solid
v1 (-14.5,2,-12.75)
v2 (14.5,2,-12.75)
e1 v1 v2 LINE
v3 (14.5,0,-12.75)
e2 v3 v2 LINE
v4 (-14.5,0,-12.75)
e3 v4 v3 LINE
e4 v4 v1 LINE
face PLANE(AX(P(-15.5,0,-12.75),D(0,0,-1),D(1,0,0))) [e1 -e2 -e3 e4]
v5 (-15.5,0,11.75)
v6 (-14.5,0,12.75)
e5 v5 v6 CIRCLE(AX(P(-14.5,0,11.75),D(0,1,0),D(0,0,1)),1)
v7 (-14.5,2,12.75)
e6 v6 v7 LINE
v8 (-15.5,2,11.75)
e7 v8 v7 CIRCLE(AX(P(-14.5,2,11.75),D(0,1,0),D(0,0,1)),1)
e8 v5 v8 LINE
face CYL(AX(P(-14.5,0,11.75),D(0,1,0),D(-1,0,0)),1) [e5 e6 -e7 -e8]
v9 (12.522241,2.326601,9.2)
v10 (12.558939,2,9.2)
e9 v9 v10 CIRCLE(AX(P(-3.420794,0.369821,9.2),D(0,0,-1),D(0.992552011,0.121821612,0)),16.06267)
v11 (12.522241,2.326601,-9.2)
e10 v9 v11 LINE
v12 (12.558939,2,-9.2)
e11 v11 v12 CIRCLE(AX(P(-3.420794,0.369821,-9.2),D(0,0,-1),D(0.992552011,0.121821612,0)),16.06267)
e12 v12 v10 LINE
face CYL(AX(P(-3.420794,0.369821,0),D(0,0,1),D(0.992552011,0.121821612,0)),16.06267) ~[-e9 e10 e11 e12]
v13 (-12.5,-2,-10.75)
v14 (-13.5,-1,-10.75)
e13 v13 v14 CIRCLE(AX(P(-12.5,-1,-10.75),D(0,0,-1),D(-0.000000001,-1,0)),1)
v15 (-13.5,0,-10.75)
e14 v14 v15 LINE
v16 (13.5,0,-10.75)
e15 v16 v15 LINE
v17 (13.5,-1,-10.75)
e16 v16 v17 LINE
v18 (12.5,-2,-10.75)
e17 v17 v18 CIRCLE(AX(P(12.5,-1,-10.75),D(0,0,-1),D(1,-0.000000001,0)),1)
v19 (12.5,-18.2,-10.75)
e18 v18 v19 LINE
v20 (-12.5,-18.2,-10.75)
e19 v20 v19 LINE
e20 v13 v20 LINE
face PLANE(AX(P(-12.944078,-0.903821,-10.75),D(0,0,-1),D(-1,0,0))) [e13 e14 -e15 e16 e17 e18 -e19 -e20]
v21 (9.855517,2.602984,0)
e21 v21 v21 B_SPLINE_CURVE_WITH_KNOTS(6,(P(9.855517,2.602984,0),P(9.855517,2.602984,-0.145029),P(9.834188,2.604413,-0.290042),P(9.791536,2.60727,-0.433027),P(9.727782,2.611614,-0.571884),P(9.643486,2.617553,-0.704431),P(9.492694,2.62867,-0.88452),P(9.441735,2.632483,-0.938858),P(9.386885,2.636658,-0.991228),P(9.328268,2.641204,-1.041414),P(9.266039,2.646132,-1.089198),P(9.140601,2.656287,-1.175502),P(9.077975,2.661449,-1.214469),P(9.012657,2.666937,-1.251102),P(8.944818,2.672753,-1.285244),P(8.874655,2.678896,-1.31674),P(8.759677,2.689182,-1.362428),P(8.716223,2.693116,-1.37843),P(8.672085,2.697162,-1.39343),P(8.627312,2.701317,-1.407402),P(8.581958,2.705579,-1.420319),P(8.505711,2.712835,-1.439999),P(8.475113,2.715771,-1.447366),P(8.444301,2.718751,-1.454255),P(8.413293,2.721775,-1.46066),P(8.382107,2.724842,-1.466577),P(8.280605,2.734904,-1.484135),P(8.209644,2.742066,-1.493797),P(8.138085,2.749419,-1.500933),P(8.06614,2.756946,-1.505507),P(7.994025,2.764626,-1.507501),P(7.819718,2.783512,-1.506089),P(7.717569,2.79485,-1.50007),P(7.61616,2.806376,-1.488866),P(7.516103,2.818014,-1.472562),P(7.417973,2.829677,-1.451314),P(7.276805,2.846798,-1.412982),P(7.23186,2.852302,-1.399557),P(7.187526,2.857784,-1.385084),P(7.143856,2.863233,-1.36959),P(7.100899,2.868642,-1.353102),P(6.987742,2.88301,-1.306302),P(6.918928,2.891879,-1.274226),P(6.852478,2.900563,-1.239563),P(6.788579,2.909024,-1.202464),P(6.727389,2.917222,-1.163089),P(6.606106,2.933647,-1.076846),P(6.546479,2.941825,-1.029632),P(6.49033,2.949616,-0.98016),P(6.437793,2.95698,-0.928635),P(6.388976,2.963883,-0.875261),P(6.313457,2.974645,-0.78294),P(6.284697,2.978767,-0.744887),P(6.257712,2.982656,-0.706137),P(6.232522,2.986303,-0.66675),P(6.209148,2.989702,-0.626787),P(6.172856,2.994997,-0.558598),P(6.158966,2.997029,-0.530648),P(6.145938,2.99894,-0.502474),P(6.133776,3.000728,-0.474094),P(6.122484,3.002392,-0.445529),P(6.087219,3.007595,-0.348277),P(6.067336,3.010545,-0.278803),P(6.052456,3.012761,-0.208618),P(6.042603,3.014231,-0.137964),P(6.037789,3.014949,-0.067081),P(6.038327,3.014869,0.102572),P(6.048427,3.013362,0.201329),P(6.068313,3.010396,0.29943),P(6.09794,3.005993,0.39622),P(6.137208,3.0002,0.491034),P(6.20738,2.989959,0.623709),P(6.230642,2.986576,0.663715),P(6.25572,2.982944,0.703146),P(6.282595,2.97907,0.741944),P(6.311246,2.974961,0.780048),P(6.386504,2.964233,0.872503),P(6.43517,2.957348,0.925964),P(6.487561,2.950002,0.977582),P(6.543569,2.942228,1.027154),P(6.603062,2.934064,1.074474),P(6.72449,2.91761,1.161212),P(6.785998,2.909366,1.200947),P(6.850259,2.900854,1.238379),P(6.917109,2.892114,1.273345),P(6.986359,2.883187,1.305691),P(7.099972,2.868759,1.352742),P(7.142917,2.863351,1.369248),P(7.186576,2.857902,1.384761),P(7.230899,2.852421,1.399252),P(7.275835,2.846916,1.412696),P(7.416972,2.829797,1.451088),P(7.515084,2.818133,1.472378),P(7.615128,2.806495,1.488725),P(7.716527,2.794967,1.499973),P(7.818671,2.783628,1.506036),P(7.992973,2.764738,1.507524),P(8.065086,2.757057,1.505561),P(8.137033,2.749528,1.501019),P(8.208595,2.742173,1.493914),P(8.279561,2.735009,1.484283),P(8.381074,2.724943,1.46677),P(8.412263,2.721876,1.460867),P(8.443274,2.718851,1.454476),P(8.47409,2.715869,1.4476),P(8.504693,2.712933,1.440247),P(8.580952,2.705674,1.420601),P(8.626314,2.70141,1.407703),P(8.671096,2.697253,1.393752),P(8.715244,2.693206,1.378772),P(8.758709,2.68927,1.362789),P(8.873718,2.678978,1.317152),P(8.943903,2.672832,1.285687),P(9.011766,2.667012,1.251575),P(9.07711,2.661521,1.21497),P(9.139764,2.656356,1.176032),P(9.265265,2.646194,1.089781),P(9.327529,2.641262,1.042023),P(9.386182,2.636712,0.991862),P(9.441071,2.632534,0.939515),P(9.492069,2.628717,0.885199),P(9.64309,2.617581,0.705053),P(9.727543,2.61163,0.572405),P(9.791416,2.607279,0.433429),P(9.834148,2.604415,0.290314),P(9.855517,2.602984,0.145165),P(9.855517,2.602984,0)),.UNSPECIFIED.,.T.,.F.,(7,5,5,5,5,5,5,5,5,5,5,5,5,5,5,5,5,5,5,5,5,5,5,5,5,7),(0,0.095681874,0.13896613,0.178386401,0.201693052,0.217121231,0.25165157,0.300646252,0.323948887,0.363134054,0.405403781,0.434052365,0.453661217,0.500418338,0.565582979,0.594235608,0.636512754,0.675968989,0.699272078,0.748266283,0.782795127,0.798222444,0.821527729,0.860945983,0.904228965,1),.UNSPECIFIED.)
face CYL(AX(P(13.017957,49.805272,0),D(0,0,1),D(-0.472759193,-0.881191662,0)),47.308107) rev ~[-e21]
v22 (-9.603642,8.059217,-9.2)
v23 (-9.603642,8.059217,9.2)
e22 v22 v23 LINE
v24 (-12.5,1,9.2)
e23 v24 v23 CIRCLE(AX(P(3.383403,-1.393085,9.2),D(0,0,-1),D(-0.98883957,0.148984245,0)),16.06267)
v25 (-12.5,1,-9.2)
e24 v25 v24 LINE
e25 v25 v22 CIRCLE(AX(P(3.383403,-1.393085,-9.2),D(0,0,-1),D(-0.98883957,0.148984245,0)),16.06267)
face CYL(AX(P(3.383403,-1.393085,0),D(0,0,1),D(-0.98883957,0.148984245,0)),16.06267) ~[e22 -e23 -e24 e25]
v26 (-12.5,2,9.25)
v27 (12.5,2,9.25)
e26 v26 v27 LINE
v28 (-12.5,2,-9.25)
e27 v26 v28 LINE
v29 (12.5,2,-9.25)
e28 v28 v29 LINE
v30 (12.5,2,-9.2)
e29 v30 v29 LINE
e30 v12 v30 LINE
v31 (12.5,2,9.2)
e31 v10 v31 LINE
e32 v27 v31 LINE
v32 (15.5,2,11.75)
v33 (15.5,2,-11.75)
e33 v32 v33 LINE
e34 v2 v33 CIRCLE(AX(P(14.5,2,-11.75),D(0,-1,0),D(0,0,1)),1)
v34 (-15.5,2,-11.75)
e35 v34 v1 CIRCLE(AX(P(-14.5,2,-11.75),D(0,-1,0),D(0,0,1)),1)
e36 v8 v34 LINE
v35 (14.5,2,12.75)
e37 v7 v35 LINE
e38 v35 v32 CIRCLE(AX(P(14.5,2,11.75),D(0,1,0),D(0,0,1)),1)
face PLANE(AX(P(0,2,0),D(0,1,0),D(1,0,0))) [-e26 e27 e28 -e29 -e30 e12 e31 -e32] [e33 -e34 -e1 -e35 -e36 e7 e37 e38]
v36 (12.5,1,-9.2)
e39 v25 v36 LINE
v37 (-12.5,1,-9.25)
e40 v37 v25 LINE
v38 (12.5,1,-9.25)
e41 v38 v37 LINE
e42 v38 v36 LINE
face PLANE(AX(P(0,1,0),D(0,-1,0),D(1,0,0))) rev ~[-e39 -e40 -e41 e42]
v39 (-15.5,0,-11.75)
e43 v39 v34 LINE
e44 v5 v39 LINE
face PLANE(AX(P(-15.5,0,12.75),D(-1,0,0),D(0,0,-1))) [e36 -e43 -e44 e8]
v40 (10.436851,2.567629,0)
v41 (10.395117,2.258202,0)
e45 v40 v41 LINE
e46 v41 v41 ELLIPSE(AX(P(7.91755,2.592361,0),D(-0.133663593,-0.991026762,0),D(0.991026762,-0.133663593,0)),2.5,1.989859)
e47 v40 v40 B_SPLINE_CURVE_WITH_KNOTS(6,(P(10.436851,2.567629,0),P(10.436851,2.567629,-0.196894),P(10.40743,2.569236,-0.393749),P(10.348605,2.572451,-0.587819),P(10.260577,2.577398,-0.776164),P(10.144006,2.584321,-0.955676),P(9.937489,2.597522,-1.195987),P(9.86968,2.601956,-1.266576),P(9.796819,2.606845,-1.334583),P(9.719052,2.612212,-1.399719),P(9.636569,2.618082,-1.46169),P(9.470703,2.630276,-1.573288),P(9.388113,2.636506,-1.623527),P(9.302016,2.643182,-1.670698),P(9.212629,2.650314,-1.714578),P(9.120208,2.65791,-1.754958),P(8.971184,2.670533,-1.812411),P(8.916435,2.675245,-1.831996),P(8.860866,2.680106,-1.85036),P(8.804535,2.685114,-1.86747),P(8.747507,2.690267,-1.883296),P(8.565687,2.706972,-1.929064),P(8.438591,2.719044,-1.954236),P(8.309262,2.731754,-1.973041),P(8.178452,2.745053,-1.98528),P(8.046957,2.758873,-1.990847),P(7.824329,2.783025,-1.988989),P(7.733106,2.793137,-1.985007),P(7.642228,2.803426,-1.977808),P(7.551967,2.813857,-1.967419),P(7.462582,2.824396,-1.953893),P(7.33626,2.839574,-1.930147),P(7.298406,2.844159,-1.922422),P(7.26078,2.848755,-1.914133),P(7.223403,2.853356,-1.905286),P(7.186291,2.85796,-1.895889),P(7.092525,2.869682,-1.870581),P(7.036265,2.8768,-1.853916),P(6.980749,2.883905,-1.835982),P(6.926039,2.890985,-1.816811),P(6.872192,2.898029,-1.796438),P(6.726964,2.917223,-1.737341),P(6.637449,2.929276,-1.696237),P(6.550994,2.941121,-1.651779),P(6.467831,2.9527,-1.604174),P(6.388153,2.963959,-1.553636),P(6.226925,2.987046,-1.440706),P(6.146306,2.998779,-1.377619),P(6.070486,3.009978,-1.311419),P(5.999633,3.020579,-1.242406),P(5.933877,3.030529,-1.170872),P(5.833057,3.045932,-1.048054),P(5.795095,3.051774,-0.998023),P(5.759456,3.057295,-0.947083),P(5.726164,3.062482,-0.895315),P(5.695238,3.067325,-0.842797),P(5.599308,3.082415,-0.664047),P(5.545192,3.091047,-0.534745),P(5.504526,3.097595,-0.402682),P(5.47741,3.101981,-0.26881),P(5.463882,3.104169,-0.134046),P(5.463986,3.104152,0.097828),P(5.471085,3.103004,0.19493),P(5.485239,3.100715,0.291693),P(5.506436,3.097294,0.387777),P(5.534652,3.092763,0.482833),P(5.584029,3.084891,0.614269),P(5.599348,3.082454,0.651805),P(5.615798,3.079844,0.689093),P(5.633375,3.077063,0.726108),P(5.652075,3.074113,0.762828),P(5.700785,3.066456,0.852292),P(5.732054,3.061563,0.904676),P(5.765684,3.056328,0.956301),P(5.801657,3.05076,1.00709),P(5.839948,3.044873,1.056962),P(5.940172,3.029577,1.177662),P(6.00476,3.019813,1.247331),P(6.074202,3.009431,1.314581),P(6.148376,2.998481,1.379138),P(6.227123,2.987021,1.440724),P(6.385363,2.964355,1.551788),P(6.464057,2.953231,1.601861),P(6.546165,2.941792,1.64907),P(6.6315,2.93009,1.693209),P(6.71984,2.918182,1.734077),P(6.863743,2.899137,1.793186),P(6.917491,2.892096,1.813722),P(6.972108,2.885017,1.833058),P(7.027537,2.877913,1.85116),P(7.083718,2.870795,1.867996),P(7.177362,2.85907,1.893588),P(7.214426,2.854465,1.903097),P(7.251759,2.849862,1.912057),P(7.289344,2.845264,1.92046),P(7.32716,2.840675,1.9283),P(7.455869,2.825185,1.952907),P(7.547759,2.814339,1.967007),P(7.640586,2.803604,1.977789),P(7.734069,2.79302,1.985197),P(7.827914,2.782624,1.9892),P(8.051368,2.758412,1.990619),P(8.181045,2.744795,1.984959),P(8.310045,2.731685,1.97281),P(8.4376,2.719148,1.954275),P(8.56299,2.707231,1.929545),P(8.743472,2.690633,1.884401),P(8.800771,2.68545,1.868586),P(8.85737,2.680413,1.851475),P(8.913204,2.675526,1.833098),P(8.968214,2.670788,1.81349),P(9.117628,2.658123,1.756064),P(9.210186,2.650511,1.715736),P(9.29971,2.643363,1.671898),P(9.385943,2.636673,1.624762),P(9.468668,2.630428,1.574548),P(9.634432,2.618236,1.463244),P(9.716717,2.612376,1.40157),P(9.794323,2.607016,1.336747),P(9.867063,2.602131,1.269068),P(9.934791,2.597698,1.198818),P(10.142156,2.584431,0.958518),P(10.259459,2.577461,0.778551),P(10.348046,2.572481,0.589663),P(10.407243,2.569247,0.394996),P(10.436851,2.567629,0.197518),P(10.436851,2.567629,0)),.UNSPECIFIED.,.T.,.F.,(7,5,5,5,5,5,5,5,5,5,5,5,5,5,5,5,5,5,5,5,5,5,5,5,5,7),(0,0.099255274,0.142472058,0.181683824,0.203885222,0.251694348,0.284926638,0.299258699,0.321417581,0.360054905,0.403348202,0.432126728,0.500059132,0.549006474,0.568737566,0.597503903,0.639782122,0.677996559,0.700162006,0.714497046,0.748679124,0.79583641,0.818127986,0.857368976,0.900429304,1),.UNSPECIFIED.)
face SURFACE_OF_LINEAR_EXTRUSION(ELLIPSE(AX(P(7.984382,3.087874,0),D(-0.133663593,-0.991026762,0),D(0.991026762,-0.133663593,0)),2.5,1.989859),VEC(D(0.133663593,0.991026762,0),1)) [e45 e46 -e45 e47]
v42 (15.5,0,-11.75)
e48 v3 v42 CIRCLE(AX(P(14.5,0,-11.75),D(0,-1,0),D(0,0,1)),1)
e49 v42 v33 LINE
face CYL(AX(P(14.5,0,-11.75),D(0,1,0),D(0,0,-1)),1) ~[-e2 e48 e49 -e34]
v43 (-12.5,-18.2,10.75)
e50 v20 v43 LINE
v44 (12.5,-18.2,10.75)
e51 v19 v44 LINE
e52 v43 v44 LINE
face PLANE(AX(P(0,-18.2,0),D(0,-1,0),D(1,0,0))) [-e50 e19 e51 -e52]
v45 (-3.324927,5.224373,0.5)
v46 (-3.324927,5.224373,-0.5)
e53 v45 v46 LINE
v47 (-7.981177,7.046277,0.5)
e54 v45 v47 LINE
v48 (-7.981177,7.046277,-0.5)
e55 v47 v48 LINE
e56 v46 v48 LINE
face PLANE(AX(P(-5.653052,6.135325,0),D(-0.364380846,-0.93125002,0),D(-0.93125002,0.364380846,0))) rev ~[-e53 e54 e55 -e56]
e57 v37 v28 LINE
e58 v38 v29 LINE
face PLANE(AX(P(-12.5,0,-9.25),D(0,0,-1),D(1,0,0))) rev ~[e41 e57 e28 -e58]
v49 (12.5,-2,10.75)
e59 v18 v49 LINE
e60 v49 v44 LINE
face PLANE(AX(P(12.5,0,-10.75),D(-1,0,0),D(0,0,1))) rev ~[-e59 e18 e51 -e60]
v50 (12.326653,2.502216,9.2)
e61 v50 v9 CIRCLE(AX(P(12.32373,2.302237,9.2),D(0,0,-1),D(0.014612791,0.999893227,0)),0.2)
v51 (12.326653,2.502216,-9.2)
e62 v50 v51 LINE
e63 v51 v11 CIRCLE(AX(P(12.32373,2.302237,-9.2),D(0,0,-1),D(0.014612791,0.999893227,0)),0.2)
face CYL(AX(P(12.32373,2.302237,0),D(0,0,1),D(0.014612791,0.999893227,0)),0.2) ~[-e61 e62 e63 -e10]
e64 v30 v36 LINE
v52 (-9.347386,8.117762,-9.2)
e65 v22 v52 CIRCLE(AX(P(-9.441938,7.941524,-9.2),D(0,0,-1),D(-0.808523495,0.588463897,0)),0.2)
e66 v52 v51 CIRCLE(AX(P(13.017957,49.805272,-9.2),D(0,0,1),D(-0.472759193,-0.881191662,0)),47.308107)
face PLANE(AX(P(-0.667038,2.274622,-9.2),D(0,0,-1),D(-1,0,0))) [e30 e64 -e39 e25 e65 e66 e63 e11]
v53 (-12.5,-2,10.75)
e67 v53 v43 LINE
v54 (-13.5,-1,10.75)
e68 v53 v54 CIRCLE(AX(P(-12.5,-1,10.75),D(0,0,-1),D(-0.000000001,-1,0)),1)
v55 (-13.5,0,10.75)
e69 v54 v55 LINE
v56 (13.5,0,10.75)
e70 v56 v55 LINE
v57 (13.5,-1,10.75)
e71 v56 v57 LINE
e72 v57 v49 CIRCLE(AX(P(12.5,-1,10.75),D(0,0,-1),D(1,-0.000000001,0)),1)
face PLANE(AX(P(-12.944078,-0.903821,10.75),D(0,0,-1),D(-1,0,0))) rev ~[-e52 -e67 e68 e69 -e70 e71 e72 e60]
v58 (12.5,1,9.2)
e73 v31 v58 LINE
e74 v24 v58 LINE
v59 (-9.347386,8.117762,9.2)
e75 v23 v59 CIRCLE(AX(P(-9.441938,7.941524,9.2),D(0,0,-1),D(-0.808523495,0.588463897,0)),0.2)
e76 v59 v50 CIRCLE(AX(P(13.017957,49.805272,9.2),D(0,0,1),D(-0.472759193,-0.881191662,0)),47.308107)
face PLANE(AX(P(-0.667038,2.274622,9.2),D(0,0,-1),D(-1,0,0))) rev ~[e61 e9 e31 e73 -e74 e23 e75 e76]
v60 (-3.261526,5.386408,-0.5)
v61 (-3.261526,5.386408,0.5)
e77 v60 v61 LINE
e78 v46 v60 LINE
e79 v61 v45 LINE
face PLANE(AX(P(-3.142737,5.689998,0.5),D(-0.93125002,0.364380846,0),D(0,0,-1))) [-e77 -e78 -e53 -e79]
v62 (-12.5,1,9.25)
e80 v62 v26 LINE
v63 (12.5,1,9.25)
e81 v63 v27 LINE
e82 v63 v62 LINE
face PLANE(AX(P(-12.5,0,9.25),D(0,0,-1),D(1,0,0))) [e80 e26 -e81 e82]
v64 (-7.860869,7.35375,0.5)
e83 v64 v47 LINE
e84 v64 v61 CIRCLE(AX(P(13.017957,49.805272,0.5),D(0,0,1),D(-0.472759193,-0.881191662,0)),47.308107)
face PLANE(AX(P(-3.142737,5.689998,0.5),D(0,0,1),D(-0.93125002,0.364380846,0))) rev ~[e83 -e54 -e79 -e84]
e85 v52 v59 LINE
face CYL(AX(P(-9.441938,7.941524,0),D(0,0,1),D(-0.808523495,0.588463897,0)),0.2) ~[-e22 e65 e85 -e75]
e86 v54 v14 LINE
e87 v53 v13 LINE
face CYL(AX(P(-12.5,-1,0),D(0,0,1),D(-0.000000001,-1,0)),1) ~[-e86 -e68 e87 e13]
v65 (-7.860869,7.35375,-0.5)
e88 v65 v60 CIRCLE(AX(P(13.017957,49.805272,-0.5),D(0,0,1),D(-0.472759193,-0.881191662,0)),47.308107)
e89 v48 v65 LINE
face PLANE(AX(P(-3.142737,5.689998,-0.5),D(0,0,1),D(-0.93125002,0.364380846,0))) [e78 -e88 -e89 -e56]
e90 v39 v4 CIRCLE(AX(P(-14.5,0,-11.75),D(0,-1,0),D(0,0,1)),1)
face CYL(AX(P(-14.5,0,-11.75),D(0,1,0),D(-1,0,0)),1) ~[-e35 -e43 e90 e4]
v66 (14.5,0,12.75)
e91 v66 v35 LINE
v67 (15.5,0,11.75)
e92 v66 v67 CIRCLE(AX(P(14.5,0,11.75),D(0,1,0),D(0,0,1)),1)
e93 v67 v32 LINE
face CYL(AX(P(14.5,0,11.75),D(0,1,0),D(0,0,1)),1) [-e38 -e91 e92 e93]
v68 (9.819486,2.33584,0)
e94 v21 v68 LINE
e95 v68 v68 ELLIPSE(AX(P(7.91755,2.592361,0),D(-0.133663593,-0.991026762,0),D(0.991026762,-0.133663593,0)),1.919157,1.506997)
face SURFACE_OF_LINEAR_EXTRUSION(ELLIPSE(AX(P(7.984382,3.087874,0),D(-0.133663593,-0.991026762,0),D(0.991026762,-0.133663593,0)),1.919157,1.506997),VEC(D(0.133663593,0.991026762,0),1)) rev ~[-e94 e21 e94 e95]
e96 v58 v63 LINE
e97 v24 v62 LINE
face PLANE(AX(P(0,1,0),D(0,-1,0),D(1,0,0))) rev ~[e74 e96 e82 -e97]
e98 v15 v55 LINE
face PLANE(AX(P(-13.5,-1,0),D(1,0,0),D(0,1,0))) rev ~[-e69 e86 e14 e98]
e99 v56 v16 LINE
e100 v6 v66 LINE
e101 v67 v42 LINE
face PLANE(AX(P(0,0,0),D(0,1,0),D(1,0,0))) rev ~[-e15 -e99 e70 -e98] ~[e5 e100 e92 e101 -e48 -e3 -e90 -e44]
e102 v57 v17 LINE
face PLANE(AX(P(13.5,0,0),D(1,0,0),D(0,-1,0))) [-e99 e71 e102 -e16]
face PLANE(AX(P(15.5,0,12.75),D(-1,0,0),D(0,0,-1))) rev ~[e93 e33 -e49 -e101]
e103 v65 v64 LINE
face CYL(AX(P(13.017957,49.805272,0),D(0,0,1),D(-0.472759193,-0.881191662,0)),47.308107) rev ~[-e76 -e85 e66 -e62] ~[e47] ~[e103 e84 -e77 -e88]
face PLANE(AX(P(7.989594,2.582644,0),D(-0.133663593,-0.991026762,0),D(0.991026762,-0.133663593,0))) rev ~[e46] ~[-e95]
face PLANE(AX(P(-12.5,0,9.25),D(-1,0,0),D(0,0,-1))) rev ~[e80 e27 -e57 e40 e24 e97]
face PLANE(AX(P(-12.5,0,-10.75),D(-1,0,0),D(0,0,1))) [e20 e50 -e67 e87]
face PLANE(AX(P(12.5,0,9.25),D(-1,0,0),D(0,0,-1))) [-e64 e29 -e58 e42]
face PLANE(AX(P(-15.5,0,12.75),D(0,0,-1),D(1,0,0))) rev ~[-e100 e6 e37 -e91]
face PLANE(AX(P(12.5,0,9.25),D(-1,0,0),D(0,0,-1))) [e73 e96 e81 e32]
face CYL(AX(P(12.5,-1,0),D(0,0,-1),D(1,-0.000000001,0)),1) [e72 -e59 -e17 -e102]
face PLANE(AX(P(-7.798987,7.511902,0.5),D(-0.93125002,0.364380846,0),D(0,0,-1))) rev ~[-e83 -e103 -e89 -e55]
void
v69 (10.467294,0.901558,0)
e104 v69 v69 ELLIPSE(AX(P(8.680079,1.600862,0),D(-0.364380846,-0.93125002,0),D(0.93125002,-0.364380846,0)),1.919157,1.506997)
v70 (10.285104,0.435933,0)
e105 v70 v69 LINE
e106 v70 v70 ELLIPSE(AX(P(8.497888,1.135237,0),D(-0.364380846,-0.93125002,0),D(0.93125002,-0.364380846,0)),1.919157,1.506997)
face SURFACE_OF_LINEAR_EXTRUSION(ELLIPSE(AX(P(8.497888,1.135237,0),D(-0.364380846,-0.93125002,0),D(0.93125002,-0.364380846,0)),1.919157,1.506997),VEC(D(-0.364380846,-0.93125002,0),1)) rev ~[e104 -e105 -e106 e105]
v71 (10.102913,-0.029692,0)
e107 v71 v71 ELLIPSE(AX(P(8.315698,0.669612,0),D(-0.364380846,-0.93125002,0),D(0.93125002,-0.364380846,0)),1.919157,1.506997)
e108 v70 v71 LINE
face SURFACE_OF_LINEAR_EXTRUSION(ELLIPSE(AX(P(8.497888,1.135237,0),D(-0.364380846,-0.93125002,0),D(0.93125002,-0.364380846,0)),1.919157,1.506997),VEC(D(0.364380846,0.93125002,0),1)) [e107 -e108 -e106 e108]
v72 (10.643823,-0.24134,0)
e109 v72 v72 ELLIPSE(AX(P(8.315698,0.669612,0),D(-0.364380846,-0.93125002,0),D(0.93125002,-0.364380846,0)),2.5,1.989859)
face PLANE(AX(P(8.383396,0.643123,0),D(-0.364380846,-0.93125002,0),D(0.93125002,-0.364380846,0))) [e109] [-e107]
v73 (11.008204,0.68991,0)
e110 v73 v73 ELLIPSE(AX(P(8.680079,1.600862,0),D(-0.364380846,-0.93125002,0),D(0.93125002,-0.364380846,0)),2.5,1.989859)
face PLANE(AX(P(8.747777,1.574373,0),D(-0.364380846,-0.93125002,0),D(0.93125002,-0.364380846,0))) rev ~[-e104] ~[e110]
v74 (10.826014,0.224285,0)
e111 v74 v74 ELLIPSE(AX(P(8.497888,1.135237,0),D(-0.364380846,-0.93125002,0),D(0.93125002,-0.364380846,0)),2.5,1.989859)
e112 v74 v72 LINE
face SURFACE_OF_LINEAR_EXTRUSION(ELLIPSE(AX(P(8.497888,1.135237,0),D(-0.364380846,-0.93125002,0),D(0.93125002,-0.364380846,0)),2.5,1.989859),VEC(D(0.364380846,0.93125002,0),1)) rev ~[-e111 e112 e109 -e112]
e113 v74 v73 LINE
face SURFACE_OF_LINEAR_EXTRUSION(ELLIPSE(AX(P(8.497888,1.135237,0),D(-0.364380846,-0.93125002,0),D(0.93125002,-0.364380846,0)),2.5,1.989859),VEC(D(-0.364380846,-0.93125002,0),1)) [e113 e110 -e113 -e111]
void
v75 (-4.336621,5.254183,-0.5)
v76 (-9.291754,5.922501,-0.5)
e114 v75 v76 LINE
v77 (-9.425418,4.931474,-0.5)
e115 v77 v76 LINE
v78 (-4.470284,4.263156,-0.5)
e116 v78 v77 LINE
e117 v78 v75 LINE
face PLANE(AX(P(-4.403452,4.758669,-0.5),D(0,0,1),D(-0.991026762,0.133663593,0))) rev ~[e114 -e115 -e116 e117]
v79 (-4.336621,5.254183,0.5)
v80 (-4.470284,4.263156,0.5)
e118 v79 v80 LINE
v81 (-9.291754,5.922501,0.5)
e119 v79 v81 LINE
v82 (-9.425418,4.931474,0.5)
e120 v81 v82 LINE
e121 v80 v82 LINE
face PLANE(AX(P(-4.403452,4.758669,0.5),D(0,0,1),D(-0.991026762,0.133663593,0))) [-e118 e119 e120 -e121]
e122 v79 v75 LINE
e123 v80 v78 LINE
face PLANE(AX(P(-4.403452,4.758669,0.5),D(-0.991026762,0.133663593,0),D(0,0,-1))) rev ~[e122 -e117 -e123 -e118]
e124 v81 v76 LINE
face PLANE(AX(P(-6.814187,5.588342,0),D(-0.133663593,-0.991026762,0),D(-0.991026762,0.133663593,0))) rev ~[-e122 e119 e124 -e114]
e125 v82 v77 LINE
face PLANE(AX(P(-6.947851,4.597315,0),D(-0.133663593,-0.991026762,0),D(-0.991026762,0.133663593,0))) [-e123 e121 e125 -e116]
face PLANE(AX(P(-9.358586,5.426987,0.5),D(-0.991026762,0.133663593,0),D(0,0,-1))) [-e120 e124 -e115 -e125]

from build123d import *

# Parameters (mm, degrees)
CROQUIS1_W                   = 31
CROQUIS1_H                   = 25.5
CROQUIS1_W_2                 = 25
CROQUIS1_H_2                 = 18.5
SALIENTE_EXTRUIR1_DEPTH      = 2
REDONDEO1_R                  = 1
CROQUIS2_W                   = 25
CROQUIS2_H                   = 21.5
SALIENTE_EXTRUIR5_DEPTH      = 18.2
SALIENTE_EXTRUIR5_DEPTH_BACK = 1
SALIENTE_EXTRUIR6_DEPTH      = 10.75
SALIENTE_EXTRUIR7_DEPTH      = 9.2
CROQUIS7_RX                  = 2.5
CROQUIS7_RY                  = 1.989859087
CROQUIS7_RX_2                = 1.919157188
CROQUIS7_RY_2                = 1.506996734
CROQUIS7_W                   = 5
CROQUIS7_H                   = 1
CORTAR_EXTRUIR2_DEPTH        = 0.5
CROQUIS8_RX                  = 2.5
CROQUIS8_RY                  = 1.989859087
CROQUIS8_RX_2                = 1.919157188
CROQUIS8_RY_2                = 1.506996734
CROQUIS8_W                   = 5
CROQUIS8_H                   = 1
CORTAR_EXTRUIR3_DEPTH        = 0.5


with BuildPart() as part:
    # Croquis1 → Saliente-Extruir1 (new body)
    with BuildSketch(Plane(origin=(0, 0, 0), x_dir=(1, 0, 0), z_dir=(0, 1, 0))):
        Rectangle(CROQUIS1_W, CROQUIS1_H)
        Rectangle(CROQUIS1_W_2, CROQUIS1_H_2, mode=Mode.SUBTRACT)
    extrude(amount=SALIENTE_EXTRUIR1_DEPTH)

    # Redondeo1
    redondeo1_edges = [part.edges().sort_by_distance(p)[0] for p in [
        (15.5, 1, 12.75),
        (-15.5, 1, 12.75),
        (-15.5, 1, -12.75),
        (15.5, 1, -12.75),
    ]]
    fillet(redondeo1_edges, radius=REDONDEO1_R)

    # Croquis2 → Saliente-Extruir5 (add, two sides)
    with BuildSketch(Plane.XZ) as saliente_extruir5_sk:
        Rectangle(CROQUIS2_W, CROQUIS2_H)
    extrude(amount=SALIENTE_EXTRUIR5_DEPTH)
    extrude(saliente_extruir5_sk.sketch, amount=-SALIENTE_EXTRUIR5_DEPTH_BACK)

    # Croquis3 → Saliente-Extruir6 (add, symmetric)
    with BuildSketch(Plane.XY):
        with BuildLine():
            Line((12.5, 0), (13.5, 0))
            Line((13.5, 0), (13.5, -1))
            ThreePointArc((13.5, -1), (13.207106781, -1.707106781), (12.5, -2))
            Line((12.5, -2), (12.5, 0))
        make_face()
        with BuildLine():
            Line((-12.5, 0), (-12.5, -2))
            ThreePointArc((-12.5, -2), (-13.207106781, -1.707106781), (-13.5, -1))
            Line((-13.5, -1), (-13.5, 0))
            Line((-13.5, 0), (-12.5, 0))
        make_face()
    extrude(amount=SALIENTE_EXTRUIR6_DEPTH, both=True)

    # Croquis4 → Saliente-Extruir7 (add, symmetric)
    with BuildSketch(Plane.XY):
        with BuildLine():
            ThreePointArc((-9.347385872, 8.117762074), (1.152636372, 4.009298277), (12.326652836, 2.502215681))
            ThreePointArc((12.326652836, 2.502215681), (12.45734879, 2.45105267), (12.522240679, 2.326601358))
            ThreePointArc((12.522240679, 2.326601358), (12.589620665, 1.664412167), (12.62950875, 1))
            ThreePointArc((12.62950875, 1), (0.064754375, -1.4616694), (-12.5, 1))
            ThreePointArc((-12.5, 1), (-11.477075864, 4.704087901), (-9.603642409, 8.059216522))
            ThreePointArc((-9.603642409, 8.059216522), (-9.48648288, 8.136499966), (-9.347385872, 8.117762074))
        make_face()
    extrude(amount=SALIENTE_EXTRUIR7_DEPTH, both=True)

    # Croquis7 → Cortar-Extruir2 (cut, symmetric)
    with BuildSketch(Plane(origin=(1.513513313, 3.868093829, 0), x_dir=(-0.93125002, 0.364380846, 0), z_dir=(-0.364380846, -0.93125002, 0))):
        with Locations(Location((-7.5, 0), (0, 0, -180))):
            Ellipse(CROQUIS7_RX, CROQUIS7_RY)
        with Locations(Location((-7.5, 0), (0, 0, -180))):
            Ellipse(CROQUIS7_RX_2, CROQUIS7_RY_2, mode=Mode.SUBTRACT)
        with Locations((7.5, 0)):
            Rectangle(CROQUIS7_W, CROQUIS7_H)
    extrude(amount=CORTAR_EXTRUIR2_DEPTH, both=True, mode=Mode.SUBTRACT)

    # Croquis8 → Cortar-Extruir3 (cut, symmetric)
    with BuildSketch(Plane(origin=(0.55168143, 4.090351383, 0), x_dir=(-0.991026762, 0.133663593, 0), z_dir=(-0.133663593, -0.991026762, 0))):
        with Locations(Location((-7.5, 0), (0, 0, -180))):
            Ellipse(CROQUIS8_RX, CROQUIS8_RY)
        with Locations(Location((-7.5, 0), (0, 0, -180))):
            Ellipse(CROQUIS8_RX_2, CROQUIS8_RY_2, mode=Mode.SUBTRACT)
        with Locations((7.5, 0)):
            Rectangle(CROQUIS8_W, CROQUIS8_H)
    extrude(amount=CORTAR_EXTRUIR3_DEPTH, both=True, mode=Mode.SUBTRACT)


solid = part.part
